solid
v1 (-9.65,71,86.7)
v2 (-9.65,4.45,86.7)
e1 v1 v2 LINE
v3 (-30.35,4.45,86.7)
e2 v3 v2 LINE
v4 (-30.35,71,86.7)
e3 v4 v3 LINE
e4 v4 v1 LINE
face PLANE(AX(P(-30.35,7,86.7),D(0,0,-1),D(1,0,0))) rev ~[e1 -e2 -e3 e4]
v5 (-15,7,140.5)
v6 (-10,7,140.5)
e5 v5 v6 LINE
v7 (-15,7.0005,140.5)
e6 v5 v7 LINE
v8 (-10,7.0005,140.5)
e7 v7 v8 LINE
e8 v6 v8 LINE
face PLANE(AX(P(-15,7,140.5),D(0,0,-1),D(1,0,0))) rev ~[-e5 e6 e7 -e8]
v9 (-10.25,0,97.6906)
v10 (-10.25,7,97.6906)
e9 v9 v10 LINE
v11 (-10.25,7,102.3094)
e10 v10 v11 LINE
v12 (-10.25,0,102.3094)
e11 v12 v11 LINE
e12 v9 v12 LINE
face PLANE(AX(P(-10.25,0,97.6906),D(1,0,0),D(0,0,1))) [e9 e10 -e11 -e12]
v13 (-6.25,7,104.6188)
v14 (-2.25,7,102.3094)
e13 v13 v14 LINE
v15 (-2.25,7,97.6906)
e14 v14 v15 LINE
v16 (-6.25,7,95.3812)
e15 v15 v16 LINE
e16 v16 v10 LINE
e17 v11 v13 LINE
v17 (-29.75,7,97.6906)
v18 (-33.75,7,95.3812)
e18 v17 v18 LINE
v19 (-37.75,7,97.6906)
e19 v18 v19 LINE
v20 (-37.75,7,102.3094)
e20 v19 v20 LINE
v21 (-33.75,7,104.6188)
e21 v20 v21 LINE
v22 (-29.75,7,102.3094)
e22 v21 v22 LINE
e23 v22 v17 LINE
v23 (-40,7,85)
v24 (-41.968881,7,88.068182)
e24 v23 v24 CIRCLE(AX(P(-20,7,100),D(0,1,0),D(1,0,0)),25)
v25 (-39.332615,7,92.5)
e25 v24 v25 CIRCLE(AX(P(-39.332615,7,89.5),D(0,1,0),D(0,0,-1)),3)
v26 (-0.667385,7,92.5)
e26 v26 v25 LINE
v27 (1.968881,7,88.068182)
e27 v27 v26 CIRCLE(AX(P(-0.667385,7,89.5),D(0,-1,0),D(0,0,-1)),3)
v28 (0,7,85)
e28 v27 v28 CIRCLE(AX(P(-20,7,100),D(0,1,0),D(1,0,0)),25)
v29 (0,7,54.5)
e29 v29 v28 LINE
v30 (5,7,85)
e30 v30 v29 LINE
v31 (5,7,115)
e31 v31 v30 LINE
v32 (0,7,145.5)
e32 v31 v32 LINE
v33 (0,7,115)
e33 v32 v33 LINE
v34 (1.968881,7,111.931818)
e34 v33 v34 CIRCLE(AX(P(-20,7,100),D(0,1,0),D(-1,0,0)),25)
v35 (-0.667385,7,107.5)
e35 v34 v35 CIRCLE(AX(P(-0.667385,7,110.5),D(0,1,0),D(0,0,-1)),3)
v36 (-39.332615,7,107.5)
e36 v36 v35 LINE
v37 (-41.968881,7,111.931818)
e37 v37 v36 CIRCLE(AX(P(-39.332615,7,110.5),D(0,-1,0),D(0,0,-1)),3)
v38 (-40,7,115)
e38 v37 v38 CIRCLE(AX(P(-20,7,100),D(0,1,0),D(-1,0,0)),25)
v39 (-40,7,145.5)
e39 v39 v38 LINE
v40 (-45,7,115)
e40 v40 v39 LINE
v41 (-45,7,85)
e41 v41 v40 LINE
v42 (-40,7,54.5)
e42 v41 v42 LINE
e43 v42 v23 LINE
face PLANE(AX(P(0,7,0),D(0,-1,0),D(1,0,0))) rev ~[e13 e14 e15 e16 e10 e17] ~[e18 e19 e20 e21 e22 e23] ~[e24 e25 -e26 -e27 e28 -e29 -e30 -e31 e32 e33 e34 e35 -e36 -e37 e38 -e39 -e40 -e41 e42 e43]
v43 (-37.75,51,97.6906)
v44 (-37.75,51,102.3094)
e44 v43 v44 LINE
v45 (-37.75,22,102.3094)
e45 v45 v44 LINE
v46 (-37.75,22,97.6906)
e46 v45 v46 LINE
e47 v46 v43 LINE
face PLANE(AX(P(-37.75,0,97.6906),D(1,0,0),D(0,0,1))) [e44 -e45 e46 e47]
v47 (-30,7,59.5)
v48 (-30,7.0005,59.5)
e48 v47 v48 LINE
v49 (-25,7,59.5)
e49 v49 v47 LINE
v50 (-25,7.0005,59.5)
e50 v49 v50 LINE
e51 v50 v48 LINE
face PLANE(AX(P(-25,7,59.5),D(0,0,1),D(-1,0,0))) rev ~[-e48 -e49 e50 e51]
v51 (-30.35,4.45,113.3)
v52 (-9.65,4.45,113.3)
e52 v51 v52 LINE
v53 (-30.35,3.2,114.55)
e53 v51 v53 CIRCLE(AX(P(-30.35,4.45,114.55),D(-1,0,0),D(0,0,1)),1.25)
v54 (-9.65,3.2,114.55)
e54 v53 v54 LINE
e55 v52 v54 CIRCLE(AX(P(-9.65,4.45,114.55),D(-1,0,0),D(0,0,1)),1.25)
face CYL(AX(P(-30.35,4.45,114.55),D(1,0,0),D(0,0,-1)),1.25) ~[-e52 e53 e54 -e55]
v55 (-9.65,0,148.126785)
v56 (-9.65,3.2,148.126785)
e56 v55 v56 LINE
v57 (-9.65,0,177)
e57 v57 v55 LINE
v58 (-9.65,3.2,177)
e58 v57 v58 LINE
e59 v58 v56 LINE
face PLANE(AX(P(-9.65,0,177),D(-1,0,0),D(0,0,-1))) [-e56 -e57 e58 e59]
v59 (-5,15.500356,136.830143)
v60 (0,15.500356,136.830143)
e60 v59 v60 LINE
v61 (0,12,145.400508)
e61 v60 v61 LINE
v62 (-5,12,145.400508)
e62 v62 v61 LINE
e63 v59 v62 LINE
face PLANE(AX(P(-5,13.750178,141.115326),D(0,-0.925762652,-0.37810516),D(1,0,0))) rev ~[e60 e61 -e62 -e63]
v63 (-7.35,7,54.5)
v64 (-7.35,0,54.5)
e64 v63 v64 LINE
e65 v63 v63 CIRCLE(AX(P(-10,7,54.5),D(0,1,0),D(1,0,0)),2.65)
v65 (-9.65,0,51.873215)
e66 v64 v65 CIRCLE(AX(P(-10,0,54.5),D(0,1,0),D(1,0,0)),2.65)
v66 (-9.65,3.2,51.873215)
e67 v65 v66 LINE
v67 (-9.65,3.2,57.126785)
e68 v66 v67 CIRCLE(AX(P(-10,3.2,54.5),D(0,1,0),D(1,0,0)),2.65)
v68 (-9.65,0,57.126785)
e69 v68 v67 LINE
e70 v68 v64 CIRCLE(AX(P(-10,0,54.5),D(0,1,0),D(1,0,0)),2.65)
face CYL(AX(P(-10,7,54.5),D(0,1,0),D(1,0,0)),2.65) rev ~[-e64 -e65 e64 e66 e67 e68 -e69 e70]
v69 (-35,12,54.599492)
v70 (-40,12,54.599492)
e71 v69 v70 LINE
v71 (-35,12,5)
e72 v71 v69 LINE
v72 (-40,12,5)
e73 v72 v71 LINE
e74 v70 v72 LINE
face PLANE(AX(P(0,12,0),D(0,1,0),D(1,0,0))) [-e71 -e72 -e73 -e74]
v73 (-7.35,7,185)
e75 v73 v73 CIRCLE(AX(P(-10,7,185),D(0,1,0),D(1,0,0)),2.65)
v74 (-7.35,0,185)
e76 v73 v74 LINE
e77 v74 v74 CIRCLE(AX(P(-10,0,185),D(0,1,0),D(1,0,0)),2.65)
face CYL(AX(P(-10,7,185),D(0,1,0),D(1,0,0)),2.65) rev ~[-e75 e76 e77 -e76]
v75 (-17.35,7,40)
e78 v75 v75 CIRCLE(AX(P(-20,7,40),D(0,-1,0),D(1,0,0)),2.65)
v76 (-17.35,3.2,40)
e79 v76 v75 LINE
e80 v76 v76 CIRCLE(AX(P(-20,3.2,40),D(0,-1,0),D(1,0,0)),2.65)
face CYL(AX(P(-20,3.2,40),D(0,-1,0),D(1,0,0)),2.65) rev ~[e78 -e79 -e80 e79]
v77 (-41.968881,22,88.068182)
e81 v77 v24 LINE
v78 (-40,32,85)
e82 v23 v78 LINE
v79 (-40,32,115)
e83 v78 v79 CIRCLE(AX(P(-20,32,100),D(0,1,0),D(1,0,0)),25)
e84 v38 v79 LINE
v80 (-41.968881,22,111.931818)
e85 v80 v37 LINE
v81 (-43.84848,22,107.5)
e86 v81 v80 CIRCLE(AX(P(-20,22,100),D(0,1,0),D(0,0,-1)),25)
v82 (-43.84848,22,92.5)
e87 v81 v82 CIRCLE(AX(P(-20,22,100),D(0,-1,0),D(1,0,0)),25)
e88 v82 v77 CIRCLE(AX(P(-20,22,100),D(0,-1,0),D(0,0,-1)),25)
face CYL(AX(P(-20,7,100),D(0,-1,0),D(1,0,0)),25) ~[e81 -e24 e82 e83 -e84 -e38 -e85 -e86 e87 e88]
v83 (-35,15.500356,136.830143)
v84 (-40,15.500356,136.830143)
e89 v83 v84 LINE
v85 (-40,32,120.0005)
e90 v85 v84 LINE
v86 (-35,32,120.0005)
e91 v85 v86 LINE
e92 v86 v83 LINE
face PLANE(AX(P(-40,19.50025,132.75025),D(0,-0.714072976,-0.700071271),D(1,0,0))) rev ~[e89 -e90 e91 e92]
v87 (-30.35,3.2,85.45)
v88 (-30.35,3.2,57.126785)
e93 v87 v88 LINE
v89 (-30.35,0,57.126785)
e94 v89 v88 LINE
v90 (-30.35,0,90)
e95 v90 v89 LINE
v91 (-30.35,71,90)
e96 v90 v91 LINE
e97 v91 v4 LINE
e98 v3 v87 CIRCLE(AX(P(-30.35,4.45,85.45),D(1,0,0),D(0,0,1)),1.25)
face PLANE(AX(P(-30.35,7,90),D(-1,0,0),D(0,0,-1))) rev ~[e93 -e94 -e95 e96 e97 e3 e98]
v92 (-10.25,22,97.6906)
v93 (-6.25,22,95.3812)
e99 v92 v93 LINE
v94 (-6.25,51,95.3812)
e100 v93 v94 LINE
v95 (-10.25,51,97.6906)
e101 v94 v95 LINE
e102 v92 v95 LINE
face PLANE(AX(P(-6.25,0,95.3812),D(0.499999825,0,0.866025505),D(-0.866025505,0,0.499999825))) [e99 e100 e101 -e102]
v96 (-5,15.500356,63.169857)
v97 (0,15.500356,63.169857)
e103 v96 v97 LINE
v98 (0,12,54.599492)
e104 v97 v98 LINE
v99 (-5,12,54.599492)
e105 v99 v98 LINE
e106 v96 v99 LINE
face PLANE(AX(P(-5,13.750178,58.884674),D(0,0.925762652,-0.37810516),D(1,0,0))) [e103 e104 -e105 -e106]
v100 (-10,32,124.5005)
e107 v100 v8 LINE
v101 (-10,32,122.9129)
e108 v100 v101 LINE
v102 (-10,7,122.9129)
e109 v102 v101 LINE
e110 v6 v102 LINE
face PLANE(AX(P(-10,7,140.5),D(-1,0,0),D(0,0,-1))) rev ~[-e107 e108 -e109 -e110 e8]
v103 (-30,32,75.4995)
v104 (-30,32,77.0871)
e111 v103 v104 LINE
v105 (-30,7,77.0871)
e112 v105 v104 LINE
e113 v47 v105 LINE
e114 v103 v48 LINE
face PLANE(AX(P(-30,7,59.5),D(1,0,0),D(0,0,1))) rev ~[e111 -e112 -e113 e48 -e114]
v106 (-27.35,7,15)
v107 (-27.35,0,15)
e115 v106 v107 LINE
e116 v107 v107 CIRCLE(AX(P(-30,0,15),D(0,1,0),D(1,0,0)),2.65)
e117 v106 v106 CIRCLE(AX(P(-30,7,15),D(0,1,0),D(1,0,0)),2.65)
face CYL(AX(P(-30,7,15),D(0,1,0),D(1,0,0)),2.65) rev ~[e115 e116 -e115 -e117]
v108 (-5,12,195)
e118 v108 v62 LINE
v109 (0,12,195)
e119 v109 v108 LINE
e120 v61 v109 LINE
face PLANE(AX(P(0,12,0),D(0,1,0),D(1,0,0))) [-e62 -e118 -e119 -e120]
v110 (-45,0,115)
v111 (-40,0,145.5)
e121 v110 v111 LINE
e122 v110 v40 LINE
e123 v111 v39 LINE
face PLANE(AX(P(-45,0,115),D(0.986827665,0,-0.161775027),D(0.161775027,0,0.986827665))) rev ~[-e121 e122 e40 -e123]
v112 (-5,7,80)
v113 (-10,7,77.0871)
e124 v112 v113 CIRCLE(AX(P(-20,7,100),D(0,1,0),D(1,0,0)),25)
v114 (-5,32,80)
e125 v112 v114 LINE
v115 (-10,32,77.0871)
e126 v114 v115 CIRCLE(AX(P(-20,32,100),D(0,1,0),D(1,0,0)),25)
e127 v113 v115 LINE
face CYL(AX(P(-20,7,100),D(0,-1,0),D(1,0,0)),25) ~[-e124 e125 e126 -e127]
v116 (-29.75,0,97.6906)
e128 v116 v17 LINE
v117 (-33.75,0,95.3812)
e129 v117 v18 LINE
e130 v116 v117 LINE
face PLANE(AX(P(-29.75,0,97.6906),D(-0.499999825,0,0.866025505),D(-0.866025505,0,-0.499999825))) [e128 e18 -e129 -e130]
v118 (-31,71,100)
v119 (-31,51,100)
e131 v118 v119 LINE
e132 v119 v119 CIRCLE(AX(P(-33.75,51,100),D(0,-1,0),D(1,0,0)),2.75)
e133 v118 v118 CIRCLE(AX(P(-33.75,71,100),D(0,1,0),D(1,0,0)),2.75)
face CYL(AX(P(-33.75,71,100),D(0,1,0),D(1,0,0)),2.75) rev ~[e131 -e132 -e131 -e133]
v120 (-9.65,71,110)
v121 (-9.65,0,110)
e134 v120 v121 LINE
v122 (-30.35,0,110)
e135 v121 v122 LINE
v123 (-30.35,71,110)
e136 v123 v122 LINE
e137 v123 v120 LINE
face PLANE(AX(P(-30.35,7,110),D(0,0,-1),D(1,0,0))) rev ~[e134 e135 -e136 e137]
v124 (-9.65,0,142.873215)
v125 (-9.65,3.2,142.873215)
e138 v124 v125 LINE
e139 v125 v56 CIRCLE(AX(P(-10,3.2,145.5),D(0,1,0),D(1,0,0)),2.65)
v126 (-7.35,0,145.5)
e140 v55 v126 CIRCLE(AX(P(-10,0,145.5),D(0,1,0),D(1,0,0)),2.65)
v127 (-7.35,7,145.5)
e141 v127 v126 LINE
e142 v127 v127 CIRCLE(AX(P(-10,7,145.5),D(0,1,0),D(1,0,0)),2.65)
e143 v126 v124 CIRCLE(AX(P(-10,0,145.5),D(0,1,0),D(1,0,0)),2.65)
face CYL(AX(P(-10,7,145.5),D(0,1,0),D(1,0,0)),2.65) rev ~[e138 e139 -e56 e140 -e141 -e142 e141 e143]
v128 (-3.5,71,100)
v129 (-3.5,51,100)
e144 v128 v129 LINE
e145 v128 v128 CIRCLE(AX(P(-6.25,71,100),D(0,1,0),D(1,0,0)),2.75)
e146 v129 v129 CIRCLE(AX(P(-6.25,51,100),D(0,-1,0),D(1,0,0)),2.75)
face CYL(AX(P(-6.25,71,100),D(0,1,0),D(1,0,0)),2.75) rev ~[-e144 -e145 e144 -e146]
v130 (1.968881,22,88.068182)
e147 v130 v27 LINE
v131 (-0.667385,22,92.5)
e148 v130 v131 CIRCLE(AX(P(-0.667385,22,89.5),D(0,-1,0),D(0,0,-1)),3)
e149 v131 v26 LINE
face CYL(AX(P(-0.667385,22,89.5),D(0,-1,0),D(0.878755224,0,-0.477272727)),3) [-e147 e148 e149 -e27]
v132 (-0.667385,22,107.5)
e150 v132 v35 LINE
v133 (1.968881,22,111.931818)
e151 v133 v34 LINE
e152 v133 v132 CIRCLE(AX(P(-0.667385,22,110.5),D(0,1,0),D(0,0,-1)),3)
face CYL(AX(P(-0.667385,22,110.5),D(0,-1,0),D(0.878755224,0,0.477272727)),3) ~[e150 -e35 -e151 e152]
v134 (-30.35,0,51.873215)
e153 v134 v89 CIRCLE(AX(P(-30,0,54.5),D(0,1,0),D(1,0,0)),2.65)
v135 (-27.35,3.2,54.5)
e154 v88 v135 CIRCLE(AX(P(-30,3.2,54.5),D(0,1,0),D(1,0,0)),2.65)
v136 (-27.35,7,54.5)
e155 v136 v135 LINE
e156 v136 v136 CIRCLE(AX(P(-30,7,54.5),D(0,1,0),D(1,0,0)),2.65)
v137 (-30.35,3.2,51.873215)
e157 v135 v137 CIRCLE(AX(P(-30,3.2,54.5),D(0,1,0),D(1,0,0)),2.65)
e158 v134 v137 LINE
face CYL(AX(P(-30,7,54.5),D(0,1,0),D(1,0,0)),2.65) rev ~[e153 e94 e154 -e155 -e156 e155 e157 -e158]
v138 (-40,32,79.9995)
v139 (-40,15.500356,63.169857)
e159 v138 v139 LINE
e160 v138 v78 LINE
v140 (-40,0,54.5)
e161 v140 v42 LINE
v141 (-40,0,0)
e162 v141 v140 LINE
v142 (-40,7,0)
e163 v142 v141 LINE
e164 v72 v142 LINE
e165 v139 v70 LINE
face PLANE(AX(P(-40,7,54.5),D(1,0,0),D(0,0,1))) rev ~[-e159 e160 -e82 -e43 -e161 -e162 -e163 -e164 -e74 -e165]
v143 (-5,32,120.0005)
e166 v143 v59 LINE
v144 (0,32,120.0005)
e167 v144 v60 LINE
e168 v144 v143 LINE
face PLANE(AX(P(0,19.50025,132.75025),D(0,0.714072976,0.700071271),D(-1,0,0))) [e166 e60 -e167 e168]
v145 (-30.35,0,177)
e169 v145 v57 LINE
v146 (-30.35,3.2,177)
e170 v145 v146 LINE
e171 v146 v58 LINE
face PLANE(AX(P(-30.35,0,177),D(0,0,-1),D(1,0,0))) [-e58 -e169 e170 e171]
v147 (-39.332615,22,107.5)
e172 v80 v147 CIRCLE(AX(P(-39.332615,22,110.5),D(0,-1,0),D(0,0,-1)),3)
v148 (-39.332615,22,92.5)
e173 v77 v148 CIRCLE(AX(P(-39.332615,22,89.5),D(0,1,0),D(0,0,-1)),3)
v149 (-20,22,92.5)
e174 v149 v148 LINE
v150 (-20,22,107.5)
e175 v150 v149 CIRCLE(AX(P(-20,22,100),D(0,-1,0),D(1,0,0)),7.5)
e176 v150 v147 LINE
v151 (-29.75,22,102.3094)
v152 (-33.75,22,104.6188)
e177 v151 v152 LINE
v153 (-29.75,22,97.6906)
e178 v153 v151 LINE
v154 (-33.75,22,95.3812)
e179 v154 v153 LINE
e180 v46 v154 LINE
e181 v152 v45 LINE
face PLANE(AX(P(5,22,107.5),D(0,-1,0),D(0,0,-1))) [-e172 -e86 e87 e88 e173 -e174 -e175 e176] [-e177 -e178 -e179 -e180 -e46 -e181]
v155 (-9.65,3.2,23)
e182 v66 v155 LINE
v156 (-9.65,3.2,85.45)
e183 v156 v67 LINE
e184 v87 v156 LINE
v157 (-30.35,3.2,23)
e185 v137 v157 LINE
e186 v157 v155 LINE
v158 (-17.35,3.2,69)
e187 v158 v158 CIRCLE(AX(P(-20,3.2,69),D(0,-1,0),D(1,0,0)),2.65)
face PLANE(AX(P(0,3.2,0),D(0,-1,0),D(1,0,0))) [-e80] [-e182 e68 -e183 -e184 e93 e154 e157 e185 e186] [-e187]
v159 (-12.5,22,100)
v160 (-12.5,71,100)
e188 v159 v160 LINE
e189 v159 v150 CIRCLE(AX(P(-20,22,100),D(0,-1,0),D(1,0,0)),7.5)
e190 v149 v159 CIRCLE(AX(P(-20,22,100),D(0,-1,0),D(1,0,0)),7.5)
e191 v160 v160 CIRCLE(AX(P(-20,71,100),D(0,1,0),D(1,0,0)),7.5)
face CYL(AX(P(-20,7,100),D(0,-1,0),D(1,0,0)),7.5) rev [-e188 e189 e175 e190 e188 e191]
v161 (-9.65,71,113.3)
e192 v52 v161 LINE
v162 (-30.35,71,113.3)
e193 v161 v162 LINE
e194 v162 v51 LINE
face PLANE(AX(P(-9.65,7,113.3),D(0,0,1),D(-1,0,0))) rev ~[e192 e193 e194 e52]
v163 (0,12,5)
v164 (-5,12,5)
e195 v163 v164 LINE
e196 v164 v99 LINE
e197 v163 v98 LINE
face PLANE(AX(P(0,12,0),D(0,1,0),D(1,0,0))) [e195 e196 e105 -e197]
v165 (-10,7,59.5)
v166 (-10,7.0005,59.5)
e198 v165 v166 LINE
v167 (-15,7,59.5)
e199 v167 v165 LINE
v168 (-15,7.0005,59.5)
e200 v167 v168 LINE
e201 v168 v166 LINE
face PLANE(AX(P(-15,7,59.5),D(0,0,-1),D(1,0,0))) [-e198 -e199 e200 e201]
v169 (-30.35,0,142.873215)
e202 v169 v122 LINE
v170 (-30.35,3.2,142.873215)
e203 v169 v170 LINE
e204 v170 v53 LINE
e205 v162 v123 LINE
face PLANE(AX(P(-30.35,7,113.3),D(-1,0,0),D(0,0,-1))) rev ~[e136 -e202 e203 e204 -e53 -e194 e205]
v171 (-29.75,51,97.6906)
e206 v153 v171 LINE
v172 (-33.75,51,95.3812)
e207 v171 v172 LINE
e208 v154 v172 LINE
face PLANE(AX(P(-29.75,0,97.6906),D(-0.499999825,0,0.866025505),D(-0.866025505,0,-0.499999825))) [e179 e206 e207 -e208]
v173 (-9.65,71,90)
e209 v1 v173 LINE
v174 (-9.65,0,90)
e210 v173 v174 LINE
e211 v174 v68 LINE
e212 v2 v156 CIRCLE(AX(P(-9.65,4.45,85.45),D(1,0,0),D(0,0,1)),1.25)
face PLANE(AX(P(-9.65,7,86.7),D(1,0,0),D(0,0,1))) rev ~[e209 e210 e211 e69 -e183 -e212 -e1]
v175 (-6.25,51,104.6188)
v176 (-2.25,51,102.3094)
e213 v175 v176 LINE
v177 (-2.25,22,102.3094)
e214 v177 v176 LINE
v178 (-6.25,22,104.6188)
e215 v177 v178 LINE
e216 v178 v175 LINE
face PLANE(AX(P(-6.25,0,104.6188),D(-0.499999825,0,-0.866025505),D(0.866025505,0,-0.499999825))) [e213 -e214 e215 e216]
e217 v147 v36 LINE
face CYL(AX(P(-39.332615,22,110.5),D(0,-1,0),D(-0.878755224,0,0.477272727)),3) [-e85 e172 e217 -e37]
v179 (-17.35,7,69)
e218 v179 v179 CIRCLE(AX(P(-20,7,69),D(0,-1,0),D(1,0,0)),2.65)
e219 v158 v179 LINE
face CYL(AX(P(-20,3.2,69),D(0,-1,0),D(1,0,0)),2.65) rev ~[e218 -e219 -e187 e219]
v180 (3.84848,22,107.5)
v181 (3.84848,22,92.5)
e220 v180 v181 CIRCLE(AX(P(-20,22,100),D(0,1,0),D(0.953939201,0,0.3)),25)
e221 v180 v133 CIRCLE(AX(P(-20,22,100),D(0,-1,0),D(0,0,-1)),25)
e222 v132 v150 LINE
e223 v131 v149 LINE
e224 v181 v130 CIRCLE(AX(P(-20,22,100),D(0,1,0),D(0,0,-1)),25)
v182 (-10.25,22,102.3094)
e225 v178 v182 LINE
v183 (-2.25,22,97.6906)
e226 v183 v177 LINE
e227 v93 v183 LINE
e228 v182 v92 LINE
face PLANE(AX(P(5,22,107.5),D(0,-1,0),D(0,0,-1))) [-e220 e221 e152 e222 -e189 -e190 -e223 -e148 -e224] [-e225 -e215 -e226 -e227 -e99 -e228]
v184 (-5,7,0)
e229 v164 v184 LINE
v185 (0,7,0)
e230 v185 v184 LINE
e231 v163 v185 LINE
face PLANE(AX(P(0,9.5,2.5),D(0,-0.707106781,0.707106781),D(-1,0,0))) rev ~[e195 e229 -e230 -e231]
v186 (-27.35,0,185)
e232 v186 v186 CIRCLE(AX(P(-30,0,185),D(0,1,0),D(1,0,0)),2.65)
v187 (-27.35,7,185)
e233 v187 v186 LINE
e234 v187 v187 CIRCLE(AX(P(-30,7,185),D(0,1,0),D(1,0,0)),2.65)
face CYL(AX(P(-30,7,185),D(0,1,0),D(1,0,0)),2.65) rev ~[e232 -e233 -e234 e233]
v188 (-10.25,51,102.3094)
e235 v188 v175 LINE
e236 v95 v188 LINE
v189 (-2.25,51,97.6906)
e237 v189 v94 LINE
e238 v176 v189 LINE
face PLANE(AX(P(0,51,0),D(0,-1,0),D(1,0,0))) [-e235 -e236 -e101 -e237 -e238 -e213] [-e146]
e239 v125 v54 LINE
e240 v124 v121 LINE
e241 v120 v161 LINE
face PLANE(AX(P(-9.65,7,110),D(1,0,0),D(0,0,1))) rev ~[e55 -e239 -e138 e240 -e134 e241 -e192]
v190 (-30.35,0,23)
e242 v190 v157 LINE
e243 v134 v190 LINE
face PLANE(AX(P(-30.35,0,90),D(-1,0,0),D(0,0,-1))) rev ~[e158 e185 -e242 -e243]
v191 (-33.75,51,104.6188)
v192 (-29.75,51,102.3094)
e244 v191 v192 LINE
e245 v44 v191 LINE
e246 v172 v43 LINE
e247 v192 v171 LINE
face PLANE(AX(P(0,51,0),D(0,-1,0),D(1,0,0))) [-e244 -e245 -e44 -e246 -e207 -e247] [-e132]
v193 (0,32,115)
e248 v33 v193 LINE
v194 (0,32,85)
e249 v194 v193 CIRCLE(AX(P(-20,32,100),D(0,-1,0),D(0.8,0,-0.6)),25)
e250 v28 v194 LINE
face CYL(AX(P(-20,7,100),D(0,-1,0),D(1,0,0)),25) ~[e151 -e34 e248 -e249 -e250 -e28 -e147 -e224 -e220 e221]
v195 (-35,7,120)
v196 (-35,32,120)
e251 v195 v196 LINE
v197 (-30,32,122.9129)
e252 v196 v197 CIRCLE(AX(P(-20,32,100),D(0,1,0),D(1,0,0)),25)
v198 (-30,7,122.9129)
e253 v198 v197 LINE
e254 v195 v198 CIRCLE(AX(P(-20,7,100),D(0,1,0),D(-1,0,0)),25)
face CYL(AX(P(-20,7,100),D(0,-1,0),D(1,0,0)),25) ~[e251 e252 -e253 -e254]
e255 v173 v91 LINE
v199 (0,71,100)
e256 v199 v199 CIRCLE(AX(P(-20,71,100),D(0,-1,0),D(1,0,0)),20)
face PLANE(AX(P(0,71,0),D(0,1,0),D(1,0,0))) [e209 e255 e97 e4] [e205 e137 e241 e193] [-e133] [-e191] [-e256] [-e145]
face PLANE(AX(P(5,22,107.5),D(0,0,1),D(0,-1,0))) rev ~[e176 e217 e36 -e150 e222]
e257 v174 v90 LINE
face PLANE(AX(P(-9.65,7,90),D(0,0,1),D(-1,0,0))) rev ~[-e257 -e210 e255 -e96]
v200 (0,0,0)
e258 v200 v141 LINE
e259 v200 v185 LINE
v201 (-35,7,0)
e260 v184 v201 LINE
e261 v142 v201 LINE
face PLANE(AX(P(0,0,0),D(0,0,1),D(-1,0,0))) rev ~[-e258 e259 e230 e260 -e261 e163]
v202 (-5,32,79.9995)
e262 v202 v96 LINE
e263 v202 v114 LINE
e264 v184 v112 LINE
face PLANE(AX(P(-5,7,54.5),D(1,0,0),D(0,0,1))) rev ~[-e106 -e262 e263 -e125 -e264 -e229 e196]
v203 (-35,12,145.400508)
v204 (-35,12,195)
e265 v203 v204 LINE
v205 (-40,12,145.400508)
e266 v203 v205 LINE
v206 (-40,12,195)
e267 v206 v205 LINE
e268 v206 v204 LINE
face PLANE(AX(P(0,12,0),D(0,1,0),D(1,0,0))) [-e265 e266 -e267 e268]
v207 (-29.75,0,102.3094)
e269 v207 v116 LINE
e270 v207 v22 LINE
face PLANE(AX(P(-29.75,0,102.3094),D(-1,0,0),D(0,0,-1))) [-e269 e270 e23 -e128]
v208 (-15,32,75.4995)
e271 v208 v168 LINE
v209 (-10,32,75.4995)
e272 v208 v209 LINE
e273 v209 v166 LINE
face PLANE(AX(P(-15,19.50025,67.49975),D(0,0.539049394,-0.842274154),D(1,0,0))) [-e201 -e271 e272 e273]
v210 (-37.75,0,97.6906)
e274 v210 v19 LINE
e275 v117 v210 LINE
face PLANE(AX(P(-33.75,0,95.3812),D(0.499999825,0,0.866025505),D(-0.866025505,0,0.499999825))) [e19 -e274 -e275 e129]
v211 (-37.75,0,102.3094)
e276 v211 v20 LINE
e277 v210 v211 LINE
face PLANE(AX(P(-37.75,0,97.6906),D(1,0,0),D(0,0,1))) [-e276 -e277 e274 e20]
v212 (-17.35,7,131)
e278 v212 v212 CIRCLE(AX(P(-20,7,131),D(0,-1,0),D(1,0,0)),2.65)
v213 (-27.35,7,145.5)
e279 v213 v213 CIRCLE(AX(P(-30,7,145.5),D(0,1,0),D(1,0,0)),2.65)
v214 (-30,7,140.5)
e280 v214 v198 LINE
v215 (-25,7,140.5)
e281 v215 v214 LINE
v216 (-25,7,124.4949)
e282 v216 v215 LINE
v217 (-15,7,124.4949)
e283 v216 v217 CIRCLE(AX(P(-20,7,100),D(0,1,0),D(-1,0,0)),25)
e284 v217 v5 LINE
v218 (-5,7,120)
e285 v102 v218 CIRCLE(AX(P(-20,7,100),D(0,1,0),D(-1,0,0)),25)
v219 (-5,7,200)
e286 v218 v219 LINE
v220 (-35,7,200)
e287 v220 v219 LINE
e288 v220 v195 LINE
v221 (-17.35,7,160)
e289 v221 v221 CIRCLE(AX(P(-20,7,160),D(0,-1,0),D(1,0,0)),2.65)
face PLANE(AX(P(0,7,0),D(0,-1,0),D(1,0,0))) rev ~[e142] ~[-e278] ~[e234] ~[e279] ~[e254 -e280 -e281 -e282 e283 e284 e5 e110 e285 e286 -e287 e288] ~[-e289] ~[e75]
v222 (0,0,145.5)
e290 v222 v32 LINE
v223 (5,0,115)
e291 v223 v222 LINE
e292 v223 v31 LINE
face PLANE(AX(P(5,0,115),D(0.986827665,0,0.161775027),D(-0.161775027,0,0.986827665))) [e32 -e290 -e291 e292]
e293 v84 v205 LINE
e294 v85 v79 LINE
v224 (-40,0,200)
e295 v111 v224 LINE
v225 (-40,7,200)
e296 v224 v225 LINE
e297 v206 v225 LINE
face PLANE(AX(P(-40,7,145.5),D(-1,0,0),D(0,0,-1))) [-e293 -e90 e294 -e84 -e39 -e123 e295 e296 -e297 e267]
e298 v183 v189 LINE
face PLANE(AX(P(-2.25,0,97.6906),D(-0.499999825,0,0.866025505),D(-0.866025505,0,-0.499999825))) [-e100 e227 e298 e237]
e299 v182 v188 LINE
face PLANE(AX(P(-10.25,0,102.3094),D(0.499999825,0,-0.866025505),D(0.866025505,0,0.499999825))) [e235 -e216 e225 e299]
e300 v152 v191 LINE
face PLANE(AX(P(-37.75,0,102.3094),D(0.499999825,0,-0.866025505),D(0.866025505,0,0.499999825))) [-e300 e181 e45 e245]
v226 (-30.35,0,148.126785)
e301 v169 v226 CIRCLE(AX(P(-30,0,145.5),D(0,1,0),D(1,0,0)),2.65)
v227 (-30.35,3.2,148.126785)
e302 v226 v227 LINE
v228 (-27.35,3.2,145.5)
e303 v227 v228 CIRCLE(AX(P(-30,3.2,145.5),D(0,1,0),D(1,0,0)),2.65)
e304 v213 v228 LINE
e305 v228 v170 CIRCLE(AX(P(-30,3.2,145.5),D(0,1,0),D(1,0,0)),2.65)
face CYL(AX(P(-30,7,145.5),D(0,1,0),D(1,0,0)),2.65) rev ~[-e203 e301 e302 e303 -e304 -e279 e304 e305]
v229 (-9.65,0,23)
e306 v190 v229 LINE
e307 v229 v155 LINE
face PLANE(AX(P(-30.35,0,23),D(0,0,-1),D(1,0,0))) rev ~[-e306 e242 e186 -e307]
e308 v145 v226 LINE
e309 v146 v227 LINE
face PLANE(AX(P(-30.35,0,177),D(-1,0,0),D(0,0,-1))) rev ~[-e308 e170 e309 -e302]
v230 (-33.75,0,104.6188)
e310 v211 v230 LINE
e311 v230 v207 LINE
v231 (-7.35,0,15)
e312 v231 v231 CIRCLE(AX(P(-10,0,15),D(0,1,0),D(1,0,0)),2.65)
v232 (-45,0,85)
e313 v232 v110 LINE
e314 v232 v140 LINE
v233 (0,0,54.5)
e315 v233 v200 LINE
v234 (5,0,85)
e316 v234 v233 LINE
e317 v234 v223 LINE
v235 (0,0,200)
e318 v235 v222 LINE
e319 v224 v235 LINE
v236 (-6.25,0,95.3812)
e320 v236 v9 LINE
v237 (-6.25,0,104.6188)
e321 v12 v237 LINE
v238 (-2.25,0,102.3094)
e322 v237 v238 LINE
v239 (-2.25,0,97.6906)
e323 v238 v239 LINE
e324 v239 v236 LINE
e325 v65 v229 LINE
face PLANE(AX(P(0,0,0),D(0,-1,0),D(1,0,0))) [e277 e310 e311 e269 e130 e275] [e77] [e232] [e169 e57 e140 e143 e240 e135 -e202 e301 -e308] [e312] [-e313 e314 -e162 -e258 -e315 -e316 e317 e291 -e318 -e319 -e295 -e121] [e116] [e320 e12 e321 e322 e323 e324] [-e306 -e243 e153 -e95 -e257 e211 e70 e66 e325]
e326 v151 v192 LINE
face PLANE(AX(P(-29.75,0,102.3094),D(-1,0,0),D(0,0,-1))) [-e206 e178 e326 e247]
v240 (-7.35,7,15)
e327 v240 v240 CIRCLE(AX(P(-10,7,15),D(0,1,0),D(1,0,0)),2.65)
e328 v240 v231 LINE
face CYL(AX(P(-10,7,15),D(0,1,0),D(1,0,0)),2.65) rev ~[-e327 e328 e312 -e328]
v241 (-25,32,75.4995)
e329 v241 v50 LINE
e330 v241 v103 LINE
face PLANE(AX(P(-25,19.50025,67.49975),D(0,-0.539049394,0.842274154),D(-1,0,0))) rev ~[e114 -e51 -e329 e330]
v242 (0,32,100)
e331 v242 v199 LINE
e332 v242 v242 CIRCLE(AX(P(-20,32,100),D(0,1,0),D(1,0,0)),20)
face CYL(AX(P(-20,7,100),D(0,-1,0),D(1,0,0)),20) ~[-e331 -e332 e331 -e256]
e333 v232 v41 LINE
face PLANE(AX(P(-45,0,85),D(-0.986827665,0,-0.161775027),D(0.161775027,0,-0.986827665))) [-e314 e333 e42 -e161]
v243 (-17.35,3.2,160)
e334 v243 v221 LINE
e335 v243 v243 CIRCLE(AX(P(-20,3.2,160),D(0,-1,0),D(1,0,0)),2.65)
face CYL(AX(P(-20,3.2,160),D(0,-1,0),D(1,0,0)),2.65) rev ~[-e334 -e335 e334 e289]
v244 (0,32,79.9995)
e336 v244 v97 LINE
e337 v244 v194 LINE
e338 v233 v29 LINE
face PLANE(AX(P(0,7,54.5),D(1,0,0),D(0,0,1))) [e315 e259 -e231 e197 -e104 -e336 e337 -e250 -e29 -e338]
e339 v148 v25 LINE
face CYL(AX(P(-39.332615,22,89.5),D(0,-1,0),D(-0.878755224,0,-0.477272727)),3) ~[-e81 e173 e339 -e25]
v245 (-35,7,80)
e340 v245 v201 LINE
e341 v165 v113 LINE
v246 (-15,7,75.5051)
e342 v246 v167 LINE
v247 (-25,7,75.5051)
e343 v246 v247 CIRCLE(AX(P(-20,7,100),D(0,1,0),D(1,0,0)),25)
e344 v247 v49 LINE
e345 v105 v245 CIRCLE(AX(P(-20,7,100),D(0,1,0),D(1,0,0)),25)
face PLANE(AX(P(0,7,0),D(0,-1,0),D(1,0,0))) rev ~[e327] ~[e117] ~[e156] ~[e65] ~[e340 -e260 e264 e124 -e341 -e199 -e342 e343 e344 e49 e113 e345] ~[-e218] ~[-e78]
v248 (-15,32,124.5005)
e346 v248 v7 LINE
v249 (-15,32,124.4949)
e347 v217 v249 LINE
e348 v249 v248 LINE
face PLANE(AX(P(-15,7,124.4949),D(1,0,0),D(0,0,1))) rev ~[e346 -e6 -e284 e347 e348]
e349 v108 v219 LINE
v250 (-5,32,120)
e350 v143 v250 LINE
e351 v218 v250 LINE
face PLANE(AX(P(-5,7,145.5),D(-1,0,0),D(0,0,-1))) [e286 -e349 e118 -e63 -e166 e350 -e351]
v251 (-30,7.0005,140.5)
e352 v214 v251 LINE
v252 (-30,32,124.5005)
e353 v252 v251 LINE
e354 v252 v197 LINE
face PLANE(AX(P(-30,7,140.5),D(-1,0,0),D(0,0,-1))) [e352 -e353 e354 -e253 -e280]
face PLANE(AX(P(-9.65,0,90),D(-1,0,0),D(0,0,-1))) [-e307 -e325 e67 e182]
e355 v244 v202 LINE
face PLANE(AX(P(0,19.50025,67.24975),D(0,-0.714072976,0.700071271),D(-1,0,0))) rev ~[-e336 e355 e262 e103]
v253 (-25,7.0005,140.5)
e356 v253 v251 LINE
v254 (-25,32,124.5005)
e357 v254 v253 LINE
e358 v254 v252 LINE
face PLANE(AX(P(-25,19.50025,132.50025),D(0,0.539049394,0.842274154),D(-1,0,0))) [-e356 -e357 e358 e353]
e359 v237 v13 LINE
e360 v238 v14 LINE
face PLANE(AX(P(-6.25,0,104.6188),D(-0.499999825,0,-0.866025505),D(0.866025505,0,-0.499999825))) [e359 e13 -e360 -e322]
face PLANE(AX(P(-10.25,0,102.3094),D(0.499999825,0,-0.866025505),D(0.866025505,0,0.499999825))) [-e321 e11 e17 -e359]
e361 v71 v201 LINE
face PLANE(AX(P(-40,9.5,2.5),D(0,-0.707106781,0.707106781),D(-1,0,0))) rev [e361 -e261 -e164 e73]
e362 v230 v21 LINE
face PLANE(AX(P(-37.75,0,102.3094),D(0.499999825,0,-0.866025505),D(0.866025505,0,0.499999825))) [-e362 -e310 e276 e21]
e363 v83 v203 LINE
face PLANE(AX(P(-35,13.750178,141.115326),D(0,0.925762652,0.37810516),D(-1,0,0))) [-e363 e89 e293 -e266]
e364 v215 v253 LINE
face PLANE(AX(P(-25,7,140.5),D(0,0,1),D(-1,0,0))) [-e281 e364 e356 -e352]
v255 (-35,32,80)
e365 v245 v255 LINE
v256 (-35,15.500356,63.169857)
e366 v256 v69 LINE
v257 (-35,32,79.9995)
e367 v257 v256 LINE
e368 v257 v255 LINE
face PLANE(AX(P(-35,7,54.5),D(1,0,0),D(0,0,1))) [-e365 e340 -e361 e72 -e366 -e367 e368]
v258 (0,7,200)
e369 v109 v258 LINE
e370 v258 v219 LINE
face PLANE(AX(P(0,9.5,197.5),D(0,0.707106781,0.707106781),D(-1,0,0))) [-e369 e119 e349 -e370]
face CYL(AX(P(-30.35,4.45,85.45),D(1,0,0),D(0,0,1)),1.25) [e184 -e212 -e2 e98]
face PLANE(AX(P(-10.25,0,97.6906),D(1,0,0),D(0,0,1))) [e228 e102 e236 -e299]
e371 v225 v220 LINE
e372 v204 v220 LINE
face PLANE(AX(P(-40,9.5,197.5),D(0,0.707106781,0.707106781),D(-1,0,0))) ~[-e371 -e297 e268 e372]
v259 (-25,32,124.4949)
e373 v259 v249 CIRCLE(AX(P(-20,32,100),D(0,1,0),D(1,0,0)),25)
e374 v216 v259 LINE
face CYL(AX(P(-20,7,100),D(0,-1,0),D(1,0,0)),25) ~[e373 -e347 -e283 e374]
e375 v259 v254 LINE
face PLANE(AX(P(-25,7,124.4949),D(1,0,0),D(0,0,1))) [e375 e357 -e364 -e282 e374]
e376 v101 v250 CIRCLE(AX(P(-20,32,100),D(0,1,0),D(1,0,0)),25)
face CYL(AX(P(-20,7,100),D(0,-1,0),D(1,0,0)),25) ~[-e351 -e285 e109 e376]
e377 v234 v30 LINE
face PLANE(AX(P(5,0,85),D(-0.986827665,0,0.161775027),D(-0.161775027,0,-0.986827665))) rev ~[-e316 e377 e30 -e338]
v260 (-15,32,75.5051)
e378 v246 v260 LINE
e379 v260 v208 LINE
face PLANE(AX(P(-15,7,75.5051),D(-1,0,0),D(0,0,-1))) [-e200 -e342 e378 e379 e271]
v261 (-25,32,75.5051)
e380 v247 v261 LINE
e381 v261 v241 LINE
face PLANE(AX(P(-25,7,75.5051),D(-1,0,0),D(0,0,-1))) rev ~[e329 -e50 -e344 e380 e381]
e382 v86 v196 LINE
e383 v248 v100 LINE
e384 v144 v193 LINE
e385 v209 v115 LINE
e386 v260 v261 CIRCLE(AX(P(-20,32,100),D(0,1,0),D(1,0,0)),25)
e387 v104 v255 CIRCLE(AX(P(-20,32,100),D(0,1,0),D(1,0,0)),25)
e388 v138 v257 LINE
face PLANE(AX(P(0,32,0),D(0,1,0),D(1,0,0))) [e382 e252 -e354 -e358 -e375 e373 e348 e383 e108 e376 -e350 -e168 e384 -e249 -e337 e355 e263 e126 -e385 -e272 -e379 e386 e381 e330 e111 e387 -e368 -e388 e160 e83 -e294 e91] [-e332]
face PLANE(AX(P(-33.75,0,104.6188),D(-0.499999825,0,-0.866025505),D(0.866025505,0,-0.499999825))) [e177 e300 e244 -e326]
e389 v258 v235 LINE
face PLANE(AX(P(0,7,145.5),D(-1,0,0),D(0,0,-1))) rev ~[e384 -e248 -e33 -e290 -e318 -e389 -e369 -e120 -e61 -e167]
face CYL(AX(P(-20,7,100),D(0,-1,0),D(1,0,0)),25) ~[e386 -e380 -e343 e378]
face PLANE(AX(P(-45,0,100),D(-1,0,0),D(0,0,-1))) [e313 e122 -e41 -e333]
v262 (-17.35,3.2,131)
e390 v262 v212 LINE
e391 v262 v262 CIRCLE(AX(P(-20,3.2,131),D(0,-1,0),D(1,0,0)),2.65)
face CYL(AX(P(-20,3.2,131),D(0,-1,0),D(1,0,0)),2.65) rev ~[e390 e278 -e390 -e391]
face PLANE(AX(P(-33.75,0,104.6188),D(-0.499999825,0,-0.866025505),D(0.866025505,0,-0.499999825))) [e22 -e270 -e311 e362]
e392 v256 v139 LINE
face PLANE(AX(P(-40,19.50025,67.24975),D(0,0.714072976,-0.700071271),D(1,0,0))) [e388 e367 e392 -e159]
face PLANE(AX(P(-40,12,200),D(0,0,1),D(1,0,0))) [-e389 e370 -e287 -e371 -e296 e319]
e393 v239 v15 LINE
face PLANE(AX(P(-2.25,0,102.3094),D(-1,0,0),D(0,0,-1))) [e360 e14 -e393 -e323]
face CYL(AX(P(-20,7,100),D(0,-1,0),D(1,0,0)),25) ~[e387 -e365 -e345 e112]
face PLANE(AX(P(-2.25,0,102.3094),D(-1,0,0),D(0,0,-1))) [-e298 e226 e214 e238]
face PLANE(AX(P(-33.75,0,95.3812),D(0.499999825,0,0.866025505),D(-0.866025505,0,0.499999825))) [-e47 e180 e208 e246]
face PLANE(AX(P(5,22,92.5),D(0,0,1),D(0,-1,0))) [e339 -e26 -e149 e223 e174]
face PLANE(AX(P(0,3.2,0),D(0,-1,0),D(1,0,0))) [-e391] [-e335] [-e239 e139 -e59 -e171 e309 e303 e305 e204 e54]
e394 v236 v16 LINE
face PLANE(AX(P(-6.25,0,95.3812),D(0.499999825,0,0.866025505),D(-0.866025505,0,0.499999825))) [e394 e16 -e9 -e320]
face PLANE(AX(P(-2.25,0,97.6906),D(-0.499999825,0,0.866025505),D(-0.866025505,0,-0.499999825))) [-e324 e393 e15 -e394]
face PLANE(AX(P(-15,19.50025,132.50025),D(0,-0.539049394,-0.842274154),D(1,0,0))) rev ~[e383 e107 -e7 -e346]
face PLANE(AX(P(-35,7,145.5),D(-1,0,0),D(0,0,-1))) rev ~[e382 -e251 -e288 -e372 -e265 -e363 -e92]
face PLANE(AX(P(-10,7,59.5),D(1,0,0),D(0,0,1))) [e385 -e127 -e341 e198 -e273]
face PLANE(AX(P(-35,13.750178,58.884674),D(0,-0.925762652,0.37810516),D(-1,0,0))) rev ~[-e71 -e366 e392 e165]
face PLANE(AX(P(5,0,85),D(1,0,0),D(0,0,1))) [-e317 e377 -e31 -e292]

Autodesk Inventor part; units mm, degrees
ref_plane "YZ Plane" through (0, 0, 0) normal (1, 0, 0) x (0, 1, 0)
ref_plane "XZ Plane" through (0, 0, 0) normal (0, 1, 0) x (-1, 0, 0)
sketch "Sketch1" plane through (0, 0, 0) normal (0, 1, 0) x (-1, 0, 0)
  line L0 (0, 0) -> (40, 0)
  line L1 (40, 0) -> (40, 200)
  line L2 (40, 200) -> (0, 200)
  line L3 (0, 200) -> (0, 0)
  dimension "d0" = 200
  dimension "d1" = 40
extrude "Extrusion1" add sketch "Sketch1" along normal blind 7
sketch "Sketch2" plane through (0, 0, 0) normal (0, -1, 0) x (1, 0, 0)
  line L0 (0, 200) -> (0, 0) construction
  line L1 (0, 100) -> (-40, 100) construction
  line L2 (-40, 0) -> (-40, 200) construction
  circle A0 centre (-20, 100) radius 20 construction
  line L3 (-40, 200) -> (0, 200) construction
  line L4 (-20, 200) -> (-20, 0) construction
  line L5 (0, 0) -> (-40, 0) construction
  line L6 (-9.65, 200) -> (-9.65, 0)
  line L7 (-30.35, 200) -> (-30.35, 0)
  line L8 (-9.65, 90) -> (-30.35, 90)
  line L9 (-30.35, 90) -> (-30.35, 23) construction
  line L10 (-30.35, 23) -> (-9.65, 23)
  line L11 (-9.65, 23) -> (-9.65, 90) construction
  line L12 (-9.65, 110) -> (-30.35, 110)
  line L13 (-30.35, 110) -> (-30.35, 177) construction
  line L14 (-30.35, 177) -> (-9.65, 177)
  line L15 (-9.65, 177) -> (-9.65, 110) construction
  line L16 (-9.65, 113.2) -> (-30.35, 113.2) construction
  line L17 (-9.65, 86.8) -> (-30.35, 86.8) construction
  point P0 (-9.65, 177)
  dimension "d19" = 1.25
  dimension "d4" = 40
  dimension "d5" = 10.35
  dimension "d6" = 10.35
  dimension "d7" = 67
  dimension "d8" = 67
  dimension "d9" = 3.2
  dimension "d10" = 3.2
  dimension "d11" = 20
  dimension "d12" = 10
extrude "Extrusion2" cut sketch "Sketch2" against normal blind 3.2 contours L6 L12 L7 L14 | L6 L10 L7 L8
sketch "Sketch3" plane through (0, 3.2, 0) normal (0, -1, 0) x (1, 0, 0)
  line L0 (-9.65, 177) -> (-9.65, 110) projected
  line L1 (-30.35, 110) -> (-30.35, 177) projected
  line L2 (-9.65, 110) -> (-30.35, 110)
  line L3 (-30.35, 110) -> (-30.35, 113.3)
  line L4 (-30.35, 113.3) -> (-9.65, 113.3)
  line L5 (-9.65, 113.3) -> (-9.65, 110)
  line L6 (-30.35, 90) -> (-9.65, 90) projected
  line L7 (-30.35, 23) -> (-30.35, 90) projected
  line L8 (-9.65, 90) -> (-30.35, 90)
  line L9 (-30.35, 90) -> (-30.35, 86.7)
  line L10 (-30.35, 86.7) -> (-9.65, 86.7)
  line L11 (-9.65, 86.7) -> (-9.65, 90)
  line L12 (-30.35, 177) -> (-9.65, 177) construction
  line L13 (-20, 177) -> (-20, 110) construction
  line L14 (-20, 90) -> (-20, 23) construction
  line L15 (-9.65, 23) -> (-30.35, 23) construction
  circle A0 centre (-20, 160) radius 2.65
  circle A1 centre (-20, 131) radius 2.65
  circle A2 centre (-20, 69) radius 2.65
  circle A3 centre (-20, 40) radius 2.65
  point P0 (0, 0)
  dimension "d15" = 3.3
  dimension "d16" = 3.3
  dimension "d20" = 5.3
  dimension "d21" = 5.3
  dimension "d22" = 5.3
  dimension "d23" = 5.3
  dimension "d24" = 29
  dimension "d25" = 29
  dimension "d26" = 21
  dimension "d27" = 21
extrude "Extrusion3" cut sketch "Sketch3" against normal up to next
fillet "Fillet1" radius 1.25 2 edges at (-20, 3.2, 113.3) (-20, 3.2, 86.7)
sketch "Sketch4" plane through (0, 7, 0) normal (0, 1, 0) x (1, 0, 0)
  line L0 (-40, -200) -> (0, -200) construction
  line L1 (-30, -200) -> (-30, 0) construction
  line L2 (-40, 0) -> (-40, -200) construction
  circle A0 centre (-30, -185) radius 2.65
  circle A1 centre (-30, -145.5) radius 2.65
  circle A2 centre (-30, -54.5) radius 2.65
  circle A3 centre (-30, -15) radius 2.65
  line L3 (0, 0) -> (-40, 0) projected
  circle A4 centre (-20, -131) radius 2.65 projected
  circle A5 centre (-20, -69) radius 2.65 projected
  line L4 (-20, -200) -> (-20, 0) construction
  line L5 (0, 0) -> (-40, 0) construction
  line L6 (-10, -200) -> (-10, 0) construction
  line L7 (0, 0) -> (0, -200) construction
  circle A6 centre (-10, -185) radius 2.65
  circle A7 centre (-10, -145.5) radius 2.65
  circle A8 centre (-10, -54.5) radius 2.65
  circle A9 centre (-10, -15) radius 2.65
  dimension "d28" = 10
  dimension "d29" = 5.3
  dimension "d30" = 5.3
  dimension "d31" = 5.3
  dimension "d32" = 5.3
  dimension "d33" = 15
  dimension "d34" = 15
  dimension "d35" = 14.5
  dimension "d36" = 14.5
extrude "Extrusion4" cut sketch "Sketch4" against normal up to next contours A0 | A1 | A2 | A3 | A6 | A7 | A8 | A9
sketch "Sketch5" plane through (0, 7, 0) normal (0, 1, 0) x (1, 0, 0)
  circle A0 centre (-30, -145.5) radius 2.65 projected
  circle A1 centre (-30, -15) radius 2.65 projected
  circle A2 centre (-10, -54.5) radius 2.65 projected
  circle A3 centre (-10, -185) radius 2.65 projected
  circle A4 centre (-10, -145.5) radius 2.65 projected
  circle A5 centre (-10, -15) radius 2.65 projected
  circle A6 centre (-30, -54.5) radius 2.65 projected
  circle A7 centre (-30, -185) radius 2.65 projected
  circle A8 centre (-20, -69) radius 2.65 projected
  line L0 (-30.35, -90) -> (-30.35, -86.7) projected
  line L1 (-30.35, -86.7) -> (-9.65, -86.7) projected
  line L2 (-9.65, -86.7) -> (-9.65, -90) projected
  line L3 (-9.65, -90) -> (-30.35, -90) projected
  circle A9 centre (-20, -131) radius 2.65 projected
  circle A10 centre (-20, -40) radius 2.65 projected
  line L4 (-9.65, -113.3) -> (-30.35, -113.3) projected
  line L5 (-30.35, -113.3) -> (-30.35, -110) projected
  line L6 (-30.35, -110) -> (-9.65, -110) projected
  line L7 (-9.65, -110) -> (-9.65, -113.3) projected
  circle A11 centre (-20, -160) radius 2.65 projected
  line L8 (-40, 0) -> (-40, -200) projected
  line L9 (-40, -200) -> (0, -200) projected
  line L10 (0, -200) -> (0, 0) projected
  line L11 (0, 0) -> (-40, 0) projected
  line L12 (-40, -200) -> (0, -200) construction
  line L13 (-20, -200) -> (-20, 0) construction
  line L14 (0, 0) -> (-40, 0) construction
  circle A12 centre (-20, -100) radius 20
  line L15 (-40, 0) -> (-40, -200) projected
  circle A13 centre (-20, -100) radius 7.5
  dimension "d39" = 15
extrude "Extrusion5" add sketch "Sketch5" along normal blind 64 contours A12
sketch "Sketch6" plane through (0, 7, 0) normal (0, 1, 0) x (1, 0, 0)
  circle A0 centre (-20, -69) radius 2.65 construction
  circle A1 centre (-20, -69) radius 5 construction
  circle A2 centre (-20, -100) radius 20 projected
  circle A3 centre (-20, -100) radius 25
  point P0 (0, 0)
  dimension "d42" = 10
  dimension "d43" = 50
extrude "Extrusion6" add sketch "Sketch6" along normal blind 25
sketch "Sketch7" plane through (-20, 71, 100) normal (0, 1, 0) x (1, 0, 0)
  line L0 (-20, 15) -> (-20, -15) construction
  line L1 (-20, 0) -> (20, 0) construction
  circle A0 centre (0, 0) radius 20 construction
  circle A1 centre (-13.75, 0) radius 2.75
  circle A2 centre (13.75, 0) radius 2.75
  circle A3 centre (-13.75, 0) radius 5 construction
  circle A4 centre (13.75, 0) radius 5 construction
  point P0 (20, 100)
  dimension "d46" = 5.5
  dimension "d47" = 5.5
  dimension "d48" = 6.25
  dimension "d49" = 10
  dimension "d50" = 10
  dimension "d51" = 6.25
extrude "Extrusion7" cut sketch "Sketch7" against normal up to next
sketch "Sketch8" plane through (0, 0, 0) normal (0, -1, 0) x (1, 0, 0)
  circle A0 centre (-6.25, 100) radius 2.75 projected
  circle A1 centre (-33.75, 100) radius 2.75 projected
  line L0 (-2.25, 97.6906) -> (-6.25, 95.3812)
  line L1 (-6.25, 95.3812) -> (-10.25, 97.6906)
  line L2 (-10.25, 97.6906) -> (-10.25, 102.3094)
  line L3 (-10.25, 102.3094) -> (-6.25, 104.6188)
  line L4 (-6.25, 104.6188) -> (-2.25, 102.3094)
  line L5 (-2.25, 102.3094) -> (-2.25, 97.6906)
  line L6 (-29.75, 97.6906) -> (-33.75, 95.3812)
  line L7 (-33.75, 95.3812) -> (-37.75, 97.6906)
  line L8 (-37.75, 97.6906) -> (-37.75, 102.3094)
  line L9 (-37.75, 102.3094) -> (-33.75, 104.6188)
  line L10 (-33.75, 104.6188) -> (-29.75, 102.3094)
  line L11 (-29.75, 102.3094) -> (-29.75, 97.6906)
  point P0 (0, 0)
  dimension "d54" = 8
  dimension "d55" = 8
extrude "Extrusion8" cut sketch "Sketch8" against normal blind 51
sketch "Sketch9" plane through (0, 0, 0) normal (0, -1, 0) x (1, 0, 0)
  line L0 (-37.75, 102.3094) -> (-33.75, 104.6188) projected
  line L1 (-33.75, 104.6188) -> (-29.75, 102.3094) projected
  line L2 (-29.75, 102.3094) -> (-29.75, 97.6906) projected
  line L3 (-29.75, 97.6906) -> (-33.75, 95.3812) projected
  line L4 (-33.75, 95.3812) -> (-37.75, 97.6906) projected
  line L5 (-37.75, 97.6906) -> (-37.75, 102.3094) projected
  line L6 (-10.25, 102.3094) -> (-6.25, 104.6188) projected
  line L7 (-6.25, 104.6188) -> (-2.25, 102.3094) projected
  line L8 (-2.25, 102.3094) -> (-2.25, 97.6906) projected
  line L9 (-2.25, 97.6906) -> (-6.25, 95.3812) projected
  line L10 (-6.25, 95.3812) -> (-10.25, 97.6906) projected
  line L11 (-10.25, 97.6906) -> (-10.25, 102.3094) projected
  line L12 (-40, 0) -> (-40, 200) projected
  line L13 (0, 0) -> (-40, 0) projected
  line L14 (0, 200) -> (0, 0) projected
  line L15 (-40, 200) -> (0, 200) projected
  arc A0 (-9.65, 51.8732) -> (-9.65, 57.1268) centre (-10, 54.5) ccw projected
  line L16 (-9.65, 51.8732) -> (-9.65, 23) projected
  line L17 (-9.65, 23) -> (-30.35, 23) projected
  line L18 (-30.35, 23) -> (-30.35, 51.8732) projected
  arc A1 (-30.35, 57.1268) -> (-30.35, 51.8732) centre (-30, 54.5) ccw projected
  line L19 (-30.35, 57.1268) -> (-30.35, 90) projected
  line L20 (-30.35, 90) -> (-9.65, 90) projected
  line L21 (-9.65, 90) -> (-9.65, 57.1268) projected
  circle A2 centre (-30, 185) radius 2.65 projected
  circle A3 centre (-10, 15) radius 2.65 projected
  circle A4 centre (-10, 185) radius 2.65 projected
  circle A5 centre (-30, 15) radius 2.65 projected
  arc A6 (-30.35, 148.1268) -> (-30.35, 142.8732) centre (-30, 145.5) ccw projected
  line L22 (-30.35, 148.1268) -> (-30.35, 177) projected
  line L23 (-30.35, 177) -> (-9.65, 177) projected
  line L24 (-9.65, 177) -> (-9.65, 148.1268) projected
  arc A7 (-9.65, 142.8732) -> (-9.65, 148.1268) centre (-10, 145.5) ccw projected
  line L25 (-9.65, 142.8732) -> (-9.65, 110) projected
  line L26 (-9.65, 110) -> (-30.35, 110) projected
  line L27 (-30.35, 110) -> (-30.35, 142.8732) projected
  line L28 (0, 115) -> (0, 85) projected
  arc A8 (0, 85) -> (0, 115) centre (-20, 100) ccw projected
  line L29 (-40, 85) -> (-40, 115) projected
  arc A9 (-40, 115) -> (-40, 85) centre (-20, 100) ccw projected
  line L30 (5, 115) -> (-45, 115)
  line L31 (-45, 115) -> (-45, 85)
  line L32 (-45, 85) -> (5, 85)
  line L33 (5, 85) -> (5, 115)
  line L34 (5, 115) -> (0, 145.5)
  line L35 (0, 200) -> (0, 0) projected
  line L36 (-45, 115) -> (-40, 145.5)
  line L37 (-40, 0) -> (-40, 200) projected
  line L38 (-45, 85) -> (-40, 54.5)
  line L39 (5, 85) -> (0, 54.5)
extrude "Extrusion9" add sketch "Sketch9" against normal up to surface (7 mm away) contours L38 L32 L12 | A9 L12 | L32 L31 A9 | L14 L32 L39 | L30 L36 L12 | A9 L31 L30 | L14 A8 | A8 L33 L32 | L30 L33 A8 | L14 L34 L30
sketch "Sketch10" plane through (0, 7, 0) normal (0, 1, 0) x (1, 0, 0)
  arc A0 (-45, -100) -> (5, -100) centre (-20, -100) ccw projected
  line L0 (-45, -115) -> (-45, -100) projected
  line L1 (-40, -145.5) -> (-45, -115) projected
  line L2 (-40, -145.5) -> (-40, -200) projected
  line L3 (-40, -200) -> (0, -200) projected
  line L4 (0, -200) -> (0, -145.5) projected
  line L5 (5, -115) -> (0, -145.5) projected
  line L6 (5, -100) -> (5, -115) projected
  circle A1 centre (-20, -160) radius 2.65 projected
  circle A2 centre (-20, -131) radius 2.65 projected
  circle A3 centre (-30, -185) radius 2.65 projected
  circle A4 centre (-10, -145.5) radius 2.65 projected
  circle A5 centre (-10, -185) radius 2.65 projected
  circle A6 centre (-30, -145.5) radius 2.65 projected
  circle A7 centre (-20, -40) radius 2.65 projected
  circle A8 centre (-20, -69) radius 2.65 projected
  circle A9 centre (-30, -54.5) radius 2.65 projected
  circle A10 centre (-10, -15) radius 2.65 projected
  circle A11 centre (-10, -54.5) radius 2.65 projected
  circle A12 centre (-30, -15) radius 2.65 projected
  arc A13 (5, -100) -> (-45, -100) centre (-20, -100) ccw projected
  line L7 (5, -85) -> (5, -100) projected
  line L8 (0, -54.5) -> (5, -85) projected
  line L9 (0, -54.5) -> (0, 0) projected
  line L10 (0, 0) -> (-40, 0) projected
  line L11 (-40, 0) -> (-40, -54.5) projected
  line L12 (-45, -85) -> (-40, -54.5) projected
  line L13 (-45, -100) -> (-45, -85) projected
  line L14 (-65.195, -100) -> (40.5448, -100) construction
  circle A14 centre (-10, -145.5) radius 5 construction
  line L15 (5, -115) -> (0, -145.5) projected
  line L16 (0, -145.5) -> (-5, -145.5)
  line L17 (-5, -145.5) -> (-5, -120)
  arc A15 (-45, -100) -> (5, -100) centre (-20, -100) ccw projected
  line L18 (0, -200) -> (0, -145.5) projected
  line L19 (0, -145.5) -> (0, -115)
  line L20 (-40, -200) -> (0, -200) construction
  line L21 (-20, -200) -> (-20, 0) construction
  line L22 (0, 0) -> (-40, 0) construction
  circle A16 centre (-20, -131) radius 2.65 construction
  circle A17 centre (-20, -131) radius 5 construction
  line L23 (-15, -124.4949) -> (-15, -140.5)
  line L24 (-15, -140.5) -> (-10, -140.5)
  line L25 (-10, -140.5) -> (-10, -122.9129)
  line L26 (-40, -145.5) -> (-35, -145.5)
  line L27 (-35, -145.5) -> (-35, -120)
  line L28 (-40, -145.5) -> (-40, -115)
  line L29 (-25, -124.4949) -> (-25, -140.5)
  line L30 (-25, -140.5) -> (-30, -140.5)
  line L31 (-30, -140.5) -> (-30, -122.9129)
  line L32 (0, -54.5) -> (-5, -54.5)
  line L33 (-5, -54.5) -> (-5, -80)
  line L34 (0, -54.5) -> (0, -85)
  line L35 (-15, -75.5051) -> (-15, -59.5)
  line L36 (-15, -59.5) -> (-10, -59.5)
  line L37 (-10, -59.5) -> (-10, -77.0871)
  line L38 (-25, -75.5051) -> (-25, -59.5)
  line L39 (-25, -59.5) -> (-30, -59.5)
  line L40 (-30, -59.5) -> (-30, -77.0871)
  line L41 (-35, -54.5) -> (-35, -80)
  line L42 (-40, -54.5) -> (-35, -54.5)
  line L43 (-40, -54.5) -> (-40, -85)
  dimension "d60" = 10
  dimension "d61" = 5
  dimension "d62" = 10
  dimension "d63" = 5
extrude "Extrusion10" add sketch "Sketch10" along normal blind 25 contours A0 L27 L26 L28 | L43 L42 L41 A13 | A0 L29 L30 L31 | L40 L39 L38 A13 | A0 L25 L24 L23 | L16 L17 A0 L19 | L35 L36 L37 A13 | L34 A13 L33 L32
chamfer "Chamfer1" distance 25.5 distance2 25 1 edges at (-2.5, 32, 145.5) measured on face at (-38.3333, 32, 126.8333)
chamfer "Chamfer2" distance 25.5 distance2 25 1 edges at (-37.5, 32, 145.5) measured on face at (-38.3333, 32, 126.8333)
chamfer "Chamfer3" distance 25.5 distance2 25 1 edges at (-2.5, 32, 54.5) measured on face at (-1.6667, 32, 73.1667)
chamfer "Chamfer4" distance 25.5 distance2 25 1 edges at (-37.5, 32, 54.5) measured on face at (-38.3333, 32, 73.1667)
chamfer "Chamfer5" distance 16 distance2 25 1 edges at (-12.5, 32, 140.5) measured on face at (-28.3333, 32, 70.6974)
chamfer "Chamfer6" distance 16 distance2 25 1 edges at (-27.5, 32, 140.5) measured on face at (-28.3333, 32, 70.6974)
chamfer "Chamfer7" distance 16 distance2 25 1 edges at (-12.5, 32, 59.5) measured on face at (-28.3333, 32, 70.6974)
chamfer "Chamfer8" distance 16 distance2 25 1 edges at (-27.5, 32, 59.5) measured on face at (-28.3333, 32, 70.6974)
ref_plane "Work Plane1" through (0, 12, 0) normal (0, 1, 0) x (1, 0, 0)
sketch "Sketch11" plane through (0, 12, 0) normal (0, 1, 0) x (1, 0, 0)
  circle A0 centre (-30, -185) radius 2.65 construction
  circle A1 centre (-30, -185) radius 5 construction
  line L0 (-40, -145.5) -> (-40, -200) projected
  line L1 (-35, -120) -> (-35, -145.5) projected
  line L2 (-40, -200) -> (-35, -200)
  line L3 (-35, -200) -> (-35, -140)
  line L4 (-35, -140) -> (-40, -140)
  line L5 (-40, -140) -> (-40, -200)
  line L6 (-40, -200) -> (0, -200) construction
  circle A2 centre (-20, -100) radius 7.5 construction
  line L7 (-20, -200) -> (-20, -100) construction
  line L8 (-20, -100) -> (-45, -100) construction
  arc A3 (-40, -85) -> (-40, -115) centre (-20, -100) ccw construction
  line L9 (0, -145.5) -> (0, -200)
  line L10 (0, -200) -> (-5, -200)
  line L11 (-5, -200) -> (-5, -140)
  line L12 (-5, -140) -> (0, -140)
  line L13 (0, -140) -> (0, -200)
  circle A4 centre (-30, -15) radius 2.65 construction
  circle A5 centre (-30, -15) radius 5 construction
  line L14 (-40, -54.5) -> (-40, 0)
  line L15 (-40, 0) -> (-35, 0)
  line L16 (-35, 0) -> (-35, -60)
  line L17 (-35, -60) -> (-40, -60)
  line L18 (-40, -60) -> (-40, 0)
  line L19 (-40, 0) -> (0, 0) construction
  line L20 (0, -54.5) -> (0, 0)
  line L21 (0, 0) -> (-5, 0)
  line L22 (-5, 0) -> (-5, -60)
  line L23 (-5, -60) -> (0, -60)
  line L24 (0, -60) -> (0, 0)
  point P0 (0, 0)
  point P1 (-5, -145.5)
  point P2 (-35, -54.5)
  point P3 (-20, 0)
  point P4 (-5, -54.5)
  dimension "d91" = 10
  dimension "d92" = 60
extrude "Extrusion11" add sketch "Sketch11" against normal up to next
chamfer "Chamfer9" distance 5 angle 45 8 edges at (-37.5, 12, 200) (-2.5, 12, 200) (-37.5, 12, 0) (-2.5, 12, 0) (-2.5, 12, 140.4005) (-37.5, 12, 140.4005) (-37.5, 12, 59.5995) (-2.5, 12, 59.5995)
sketch "Sketch12" plane through (5, 0, 115) normal (1, 0, 0) x (0, 0, -1)
  line L0 (7.5, 71) -> (22.5, 71) projected
  line L1 (22.5, 7) -> (7.5, 7) projected
  line L2 (22.5, 7) -> (7.5, 7) projected
  line L3 (7.5, 71) -> (7.5, 7) projected
  line L4 (22.5, 7) -> (7.5, 7)
  line L5 (7.5, 7) -> (7.5, 22)
  line L6 (7.5, 22) -> (22.5, 22)
  line L7 (22.5, 22) -> (22.5, 7)
  point P0 (115, 0)
  dimension "d98" = 15
extrude "Extrusion12" cut sketch "Sketch12" against normal through all
fillet "Fillet2" radius 3 4 edges at (-43.8485, 14.5, 107.5) (3.8485, 14.5, 107.5) (-43.8485, 14.5, 92.5) (3.8485, 14.5, 92.5)
equation "\"d6\" = d5"
equation "\"d8\" = d7"
equation "\"d10\" = d9"
equation "\"d12\" = 0.5 * d11"
equation "\"d21\" = d20"
equation "\"d22\" = d20"
equation "\"d23\" = d20"
equation "\"d25\" = d24"
equation "\"d27\" = d26"
equation "\"d30\" = d29"
equation "\"d31\" = d29"
equation "\"d32\" = d29"
equation "\"d36\" = d35"
equation "\"d37\" = d31"
equation "\"d50\" = d49"
equation "\"d51\" = d48"
equation "\"d55\" = d54"
properties part number "Axis 4 Male Bearing Connector Bracket"
